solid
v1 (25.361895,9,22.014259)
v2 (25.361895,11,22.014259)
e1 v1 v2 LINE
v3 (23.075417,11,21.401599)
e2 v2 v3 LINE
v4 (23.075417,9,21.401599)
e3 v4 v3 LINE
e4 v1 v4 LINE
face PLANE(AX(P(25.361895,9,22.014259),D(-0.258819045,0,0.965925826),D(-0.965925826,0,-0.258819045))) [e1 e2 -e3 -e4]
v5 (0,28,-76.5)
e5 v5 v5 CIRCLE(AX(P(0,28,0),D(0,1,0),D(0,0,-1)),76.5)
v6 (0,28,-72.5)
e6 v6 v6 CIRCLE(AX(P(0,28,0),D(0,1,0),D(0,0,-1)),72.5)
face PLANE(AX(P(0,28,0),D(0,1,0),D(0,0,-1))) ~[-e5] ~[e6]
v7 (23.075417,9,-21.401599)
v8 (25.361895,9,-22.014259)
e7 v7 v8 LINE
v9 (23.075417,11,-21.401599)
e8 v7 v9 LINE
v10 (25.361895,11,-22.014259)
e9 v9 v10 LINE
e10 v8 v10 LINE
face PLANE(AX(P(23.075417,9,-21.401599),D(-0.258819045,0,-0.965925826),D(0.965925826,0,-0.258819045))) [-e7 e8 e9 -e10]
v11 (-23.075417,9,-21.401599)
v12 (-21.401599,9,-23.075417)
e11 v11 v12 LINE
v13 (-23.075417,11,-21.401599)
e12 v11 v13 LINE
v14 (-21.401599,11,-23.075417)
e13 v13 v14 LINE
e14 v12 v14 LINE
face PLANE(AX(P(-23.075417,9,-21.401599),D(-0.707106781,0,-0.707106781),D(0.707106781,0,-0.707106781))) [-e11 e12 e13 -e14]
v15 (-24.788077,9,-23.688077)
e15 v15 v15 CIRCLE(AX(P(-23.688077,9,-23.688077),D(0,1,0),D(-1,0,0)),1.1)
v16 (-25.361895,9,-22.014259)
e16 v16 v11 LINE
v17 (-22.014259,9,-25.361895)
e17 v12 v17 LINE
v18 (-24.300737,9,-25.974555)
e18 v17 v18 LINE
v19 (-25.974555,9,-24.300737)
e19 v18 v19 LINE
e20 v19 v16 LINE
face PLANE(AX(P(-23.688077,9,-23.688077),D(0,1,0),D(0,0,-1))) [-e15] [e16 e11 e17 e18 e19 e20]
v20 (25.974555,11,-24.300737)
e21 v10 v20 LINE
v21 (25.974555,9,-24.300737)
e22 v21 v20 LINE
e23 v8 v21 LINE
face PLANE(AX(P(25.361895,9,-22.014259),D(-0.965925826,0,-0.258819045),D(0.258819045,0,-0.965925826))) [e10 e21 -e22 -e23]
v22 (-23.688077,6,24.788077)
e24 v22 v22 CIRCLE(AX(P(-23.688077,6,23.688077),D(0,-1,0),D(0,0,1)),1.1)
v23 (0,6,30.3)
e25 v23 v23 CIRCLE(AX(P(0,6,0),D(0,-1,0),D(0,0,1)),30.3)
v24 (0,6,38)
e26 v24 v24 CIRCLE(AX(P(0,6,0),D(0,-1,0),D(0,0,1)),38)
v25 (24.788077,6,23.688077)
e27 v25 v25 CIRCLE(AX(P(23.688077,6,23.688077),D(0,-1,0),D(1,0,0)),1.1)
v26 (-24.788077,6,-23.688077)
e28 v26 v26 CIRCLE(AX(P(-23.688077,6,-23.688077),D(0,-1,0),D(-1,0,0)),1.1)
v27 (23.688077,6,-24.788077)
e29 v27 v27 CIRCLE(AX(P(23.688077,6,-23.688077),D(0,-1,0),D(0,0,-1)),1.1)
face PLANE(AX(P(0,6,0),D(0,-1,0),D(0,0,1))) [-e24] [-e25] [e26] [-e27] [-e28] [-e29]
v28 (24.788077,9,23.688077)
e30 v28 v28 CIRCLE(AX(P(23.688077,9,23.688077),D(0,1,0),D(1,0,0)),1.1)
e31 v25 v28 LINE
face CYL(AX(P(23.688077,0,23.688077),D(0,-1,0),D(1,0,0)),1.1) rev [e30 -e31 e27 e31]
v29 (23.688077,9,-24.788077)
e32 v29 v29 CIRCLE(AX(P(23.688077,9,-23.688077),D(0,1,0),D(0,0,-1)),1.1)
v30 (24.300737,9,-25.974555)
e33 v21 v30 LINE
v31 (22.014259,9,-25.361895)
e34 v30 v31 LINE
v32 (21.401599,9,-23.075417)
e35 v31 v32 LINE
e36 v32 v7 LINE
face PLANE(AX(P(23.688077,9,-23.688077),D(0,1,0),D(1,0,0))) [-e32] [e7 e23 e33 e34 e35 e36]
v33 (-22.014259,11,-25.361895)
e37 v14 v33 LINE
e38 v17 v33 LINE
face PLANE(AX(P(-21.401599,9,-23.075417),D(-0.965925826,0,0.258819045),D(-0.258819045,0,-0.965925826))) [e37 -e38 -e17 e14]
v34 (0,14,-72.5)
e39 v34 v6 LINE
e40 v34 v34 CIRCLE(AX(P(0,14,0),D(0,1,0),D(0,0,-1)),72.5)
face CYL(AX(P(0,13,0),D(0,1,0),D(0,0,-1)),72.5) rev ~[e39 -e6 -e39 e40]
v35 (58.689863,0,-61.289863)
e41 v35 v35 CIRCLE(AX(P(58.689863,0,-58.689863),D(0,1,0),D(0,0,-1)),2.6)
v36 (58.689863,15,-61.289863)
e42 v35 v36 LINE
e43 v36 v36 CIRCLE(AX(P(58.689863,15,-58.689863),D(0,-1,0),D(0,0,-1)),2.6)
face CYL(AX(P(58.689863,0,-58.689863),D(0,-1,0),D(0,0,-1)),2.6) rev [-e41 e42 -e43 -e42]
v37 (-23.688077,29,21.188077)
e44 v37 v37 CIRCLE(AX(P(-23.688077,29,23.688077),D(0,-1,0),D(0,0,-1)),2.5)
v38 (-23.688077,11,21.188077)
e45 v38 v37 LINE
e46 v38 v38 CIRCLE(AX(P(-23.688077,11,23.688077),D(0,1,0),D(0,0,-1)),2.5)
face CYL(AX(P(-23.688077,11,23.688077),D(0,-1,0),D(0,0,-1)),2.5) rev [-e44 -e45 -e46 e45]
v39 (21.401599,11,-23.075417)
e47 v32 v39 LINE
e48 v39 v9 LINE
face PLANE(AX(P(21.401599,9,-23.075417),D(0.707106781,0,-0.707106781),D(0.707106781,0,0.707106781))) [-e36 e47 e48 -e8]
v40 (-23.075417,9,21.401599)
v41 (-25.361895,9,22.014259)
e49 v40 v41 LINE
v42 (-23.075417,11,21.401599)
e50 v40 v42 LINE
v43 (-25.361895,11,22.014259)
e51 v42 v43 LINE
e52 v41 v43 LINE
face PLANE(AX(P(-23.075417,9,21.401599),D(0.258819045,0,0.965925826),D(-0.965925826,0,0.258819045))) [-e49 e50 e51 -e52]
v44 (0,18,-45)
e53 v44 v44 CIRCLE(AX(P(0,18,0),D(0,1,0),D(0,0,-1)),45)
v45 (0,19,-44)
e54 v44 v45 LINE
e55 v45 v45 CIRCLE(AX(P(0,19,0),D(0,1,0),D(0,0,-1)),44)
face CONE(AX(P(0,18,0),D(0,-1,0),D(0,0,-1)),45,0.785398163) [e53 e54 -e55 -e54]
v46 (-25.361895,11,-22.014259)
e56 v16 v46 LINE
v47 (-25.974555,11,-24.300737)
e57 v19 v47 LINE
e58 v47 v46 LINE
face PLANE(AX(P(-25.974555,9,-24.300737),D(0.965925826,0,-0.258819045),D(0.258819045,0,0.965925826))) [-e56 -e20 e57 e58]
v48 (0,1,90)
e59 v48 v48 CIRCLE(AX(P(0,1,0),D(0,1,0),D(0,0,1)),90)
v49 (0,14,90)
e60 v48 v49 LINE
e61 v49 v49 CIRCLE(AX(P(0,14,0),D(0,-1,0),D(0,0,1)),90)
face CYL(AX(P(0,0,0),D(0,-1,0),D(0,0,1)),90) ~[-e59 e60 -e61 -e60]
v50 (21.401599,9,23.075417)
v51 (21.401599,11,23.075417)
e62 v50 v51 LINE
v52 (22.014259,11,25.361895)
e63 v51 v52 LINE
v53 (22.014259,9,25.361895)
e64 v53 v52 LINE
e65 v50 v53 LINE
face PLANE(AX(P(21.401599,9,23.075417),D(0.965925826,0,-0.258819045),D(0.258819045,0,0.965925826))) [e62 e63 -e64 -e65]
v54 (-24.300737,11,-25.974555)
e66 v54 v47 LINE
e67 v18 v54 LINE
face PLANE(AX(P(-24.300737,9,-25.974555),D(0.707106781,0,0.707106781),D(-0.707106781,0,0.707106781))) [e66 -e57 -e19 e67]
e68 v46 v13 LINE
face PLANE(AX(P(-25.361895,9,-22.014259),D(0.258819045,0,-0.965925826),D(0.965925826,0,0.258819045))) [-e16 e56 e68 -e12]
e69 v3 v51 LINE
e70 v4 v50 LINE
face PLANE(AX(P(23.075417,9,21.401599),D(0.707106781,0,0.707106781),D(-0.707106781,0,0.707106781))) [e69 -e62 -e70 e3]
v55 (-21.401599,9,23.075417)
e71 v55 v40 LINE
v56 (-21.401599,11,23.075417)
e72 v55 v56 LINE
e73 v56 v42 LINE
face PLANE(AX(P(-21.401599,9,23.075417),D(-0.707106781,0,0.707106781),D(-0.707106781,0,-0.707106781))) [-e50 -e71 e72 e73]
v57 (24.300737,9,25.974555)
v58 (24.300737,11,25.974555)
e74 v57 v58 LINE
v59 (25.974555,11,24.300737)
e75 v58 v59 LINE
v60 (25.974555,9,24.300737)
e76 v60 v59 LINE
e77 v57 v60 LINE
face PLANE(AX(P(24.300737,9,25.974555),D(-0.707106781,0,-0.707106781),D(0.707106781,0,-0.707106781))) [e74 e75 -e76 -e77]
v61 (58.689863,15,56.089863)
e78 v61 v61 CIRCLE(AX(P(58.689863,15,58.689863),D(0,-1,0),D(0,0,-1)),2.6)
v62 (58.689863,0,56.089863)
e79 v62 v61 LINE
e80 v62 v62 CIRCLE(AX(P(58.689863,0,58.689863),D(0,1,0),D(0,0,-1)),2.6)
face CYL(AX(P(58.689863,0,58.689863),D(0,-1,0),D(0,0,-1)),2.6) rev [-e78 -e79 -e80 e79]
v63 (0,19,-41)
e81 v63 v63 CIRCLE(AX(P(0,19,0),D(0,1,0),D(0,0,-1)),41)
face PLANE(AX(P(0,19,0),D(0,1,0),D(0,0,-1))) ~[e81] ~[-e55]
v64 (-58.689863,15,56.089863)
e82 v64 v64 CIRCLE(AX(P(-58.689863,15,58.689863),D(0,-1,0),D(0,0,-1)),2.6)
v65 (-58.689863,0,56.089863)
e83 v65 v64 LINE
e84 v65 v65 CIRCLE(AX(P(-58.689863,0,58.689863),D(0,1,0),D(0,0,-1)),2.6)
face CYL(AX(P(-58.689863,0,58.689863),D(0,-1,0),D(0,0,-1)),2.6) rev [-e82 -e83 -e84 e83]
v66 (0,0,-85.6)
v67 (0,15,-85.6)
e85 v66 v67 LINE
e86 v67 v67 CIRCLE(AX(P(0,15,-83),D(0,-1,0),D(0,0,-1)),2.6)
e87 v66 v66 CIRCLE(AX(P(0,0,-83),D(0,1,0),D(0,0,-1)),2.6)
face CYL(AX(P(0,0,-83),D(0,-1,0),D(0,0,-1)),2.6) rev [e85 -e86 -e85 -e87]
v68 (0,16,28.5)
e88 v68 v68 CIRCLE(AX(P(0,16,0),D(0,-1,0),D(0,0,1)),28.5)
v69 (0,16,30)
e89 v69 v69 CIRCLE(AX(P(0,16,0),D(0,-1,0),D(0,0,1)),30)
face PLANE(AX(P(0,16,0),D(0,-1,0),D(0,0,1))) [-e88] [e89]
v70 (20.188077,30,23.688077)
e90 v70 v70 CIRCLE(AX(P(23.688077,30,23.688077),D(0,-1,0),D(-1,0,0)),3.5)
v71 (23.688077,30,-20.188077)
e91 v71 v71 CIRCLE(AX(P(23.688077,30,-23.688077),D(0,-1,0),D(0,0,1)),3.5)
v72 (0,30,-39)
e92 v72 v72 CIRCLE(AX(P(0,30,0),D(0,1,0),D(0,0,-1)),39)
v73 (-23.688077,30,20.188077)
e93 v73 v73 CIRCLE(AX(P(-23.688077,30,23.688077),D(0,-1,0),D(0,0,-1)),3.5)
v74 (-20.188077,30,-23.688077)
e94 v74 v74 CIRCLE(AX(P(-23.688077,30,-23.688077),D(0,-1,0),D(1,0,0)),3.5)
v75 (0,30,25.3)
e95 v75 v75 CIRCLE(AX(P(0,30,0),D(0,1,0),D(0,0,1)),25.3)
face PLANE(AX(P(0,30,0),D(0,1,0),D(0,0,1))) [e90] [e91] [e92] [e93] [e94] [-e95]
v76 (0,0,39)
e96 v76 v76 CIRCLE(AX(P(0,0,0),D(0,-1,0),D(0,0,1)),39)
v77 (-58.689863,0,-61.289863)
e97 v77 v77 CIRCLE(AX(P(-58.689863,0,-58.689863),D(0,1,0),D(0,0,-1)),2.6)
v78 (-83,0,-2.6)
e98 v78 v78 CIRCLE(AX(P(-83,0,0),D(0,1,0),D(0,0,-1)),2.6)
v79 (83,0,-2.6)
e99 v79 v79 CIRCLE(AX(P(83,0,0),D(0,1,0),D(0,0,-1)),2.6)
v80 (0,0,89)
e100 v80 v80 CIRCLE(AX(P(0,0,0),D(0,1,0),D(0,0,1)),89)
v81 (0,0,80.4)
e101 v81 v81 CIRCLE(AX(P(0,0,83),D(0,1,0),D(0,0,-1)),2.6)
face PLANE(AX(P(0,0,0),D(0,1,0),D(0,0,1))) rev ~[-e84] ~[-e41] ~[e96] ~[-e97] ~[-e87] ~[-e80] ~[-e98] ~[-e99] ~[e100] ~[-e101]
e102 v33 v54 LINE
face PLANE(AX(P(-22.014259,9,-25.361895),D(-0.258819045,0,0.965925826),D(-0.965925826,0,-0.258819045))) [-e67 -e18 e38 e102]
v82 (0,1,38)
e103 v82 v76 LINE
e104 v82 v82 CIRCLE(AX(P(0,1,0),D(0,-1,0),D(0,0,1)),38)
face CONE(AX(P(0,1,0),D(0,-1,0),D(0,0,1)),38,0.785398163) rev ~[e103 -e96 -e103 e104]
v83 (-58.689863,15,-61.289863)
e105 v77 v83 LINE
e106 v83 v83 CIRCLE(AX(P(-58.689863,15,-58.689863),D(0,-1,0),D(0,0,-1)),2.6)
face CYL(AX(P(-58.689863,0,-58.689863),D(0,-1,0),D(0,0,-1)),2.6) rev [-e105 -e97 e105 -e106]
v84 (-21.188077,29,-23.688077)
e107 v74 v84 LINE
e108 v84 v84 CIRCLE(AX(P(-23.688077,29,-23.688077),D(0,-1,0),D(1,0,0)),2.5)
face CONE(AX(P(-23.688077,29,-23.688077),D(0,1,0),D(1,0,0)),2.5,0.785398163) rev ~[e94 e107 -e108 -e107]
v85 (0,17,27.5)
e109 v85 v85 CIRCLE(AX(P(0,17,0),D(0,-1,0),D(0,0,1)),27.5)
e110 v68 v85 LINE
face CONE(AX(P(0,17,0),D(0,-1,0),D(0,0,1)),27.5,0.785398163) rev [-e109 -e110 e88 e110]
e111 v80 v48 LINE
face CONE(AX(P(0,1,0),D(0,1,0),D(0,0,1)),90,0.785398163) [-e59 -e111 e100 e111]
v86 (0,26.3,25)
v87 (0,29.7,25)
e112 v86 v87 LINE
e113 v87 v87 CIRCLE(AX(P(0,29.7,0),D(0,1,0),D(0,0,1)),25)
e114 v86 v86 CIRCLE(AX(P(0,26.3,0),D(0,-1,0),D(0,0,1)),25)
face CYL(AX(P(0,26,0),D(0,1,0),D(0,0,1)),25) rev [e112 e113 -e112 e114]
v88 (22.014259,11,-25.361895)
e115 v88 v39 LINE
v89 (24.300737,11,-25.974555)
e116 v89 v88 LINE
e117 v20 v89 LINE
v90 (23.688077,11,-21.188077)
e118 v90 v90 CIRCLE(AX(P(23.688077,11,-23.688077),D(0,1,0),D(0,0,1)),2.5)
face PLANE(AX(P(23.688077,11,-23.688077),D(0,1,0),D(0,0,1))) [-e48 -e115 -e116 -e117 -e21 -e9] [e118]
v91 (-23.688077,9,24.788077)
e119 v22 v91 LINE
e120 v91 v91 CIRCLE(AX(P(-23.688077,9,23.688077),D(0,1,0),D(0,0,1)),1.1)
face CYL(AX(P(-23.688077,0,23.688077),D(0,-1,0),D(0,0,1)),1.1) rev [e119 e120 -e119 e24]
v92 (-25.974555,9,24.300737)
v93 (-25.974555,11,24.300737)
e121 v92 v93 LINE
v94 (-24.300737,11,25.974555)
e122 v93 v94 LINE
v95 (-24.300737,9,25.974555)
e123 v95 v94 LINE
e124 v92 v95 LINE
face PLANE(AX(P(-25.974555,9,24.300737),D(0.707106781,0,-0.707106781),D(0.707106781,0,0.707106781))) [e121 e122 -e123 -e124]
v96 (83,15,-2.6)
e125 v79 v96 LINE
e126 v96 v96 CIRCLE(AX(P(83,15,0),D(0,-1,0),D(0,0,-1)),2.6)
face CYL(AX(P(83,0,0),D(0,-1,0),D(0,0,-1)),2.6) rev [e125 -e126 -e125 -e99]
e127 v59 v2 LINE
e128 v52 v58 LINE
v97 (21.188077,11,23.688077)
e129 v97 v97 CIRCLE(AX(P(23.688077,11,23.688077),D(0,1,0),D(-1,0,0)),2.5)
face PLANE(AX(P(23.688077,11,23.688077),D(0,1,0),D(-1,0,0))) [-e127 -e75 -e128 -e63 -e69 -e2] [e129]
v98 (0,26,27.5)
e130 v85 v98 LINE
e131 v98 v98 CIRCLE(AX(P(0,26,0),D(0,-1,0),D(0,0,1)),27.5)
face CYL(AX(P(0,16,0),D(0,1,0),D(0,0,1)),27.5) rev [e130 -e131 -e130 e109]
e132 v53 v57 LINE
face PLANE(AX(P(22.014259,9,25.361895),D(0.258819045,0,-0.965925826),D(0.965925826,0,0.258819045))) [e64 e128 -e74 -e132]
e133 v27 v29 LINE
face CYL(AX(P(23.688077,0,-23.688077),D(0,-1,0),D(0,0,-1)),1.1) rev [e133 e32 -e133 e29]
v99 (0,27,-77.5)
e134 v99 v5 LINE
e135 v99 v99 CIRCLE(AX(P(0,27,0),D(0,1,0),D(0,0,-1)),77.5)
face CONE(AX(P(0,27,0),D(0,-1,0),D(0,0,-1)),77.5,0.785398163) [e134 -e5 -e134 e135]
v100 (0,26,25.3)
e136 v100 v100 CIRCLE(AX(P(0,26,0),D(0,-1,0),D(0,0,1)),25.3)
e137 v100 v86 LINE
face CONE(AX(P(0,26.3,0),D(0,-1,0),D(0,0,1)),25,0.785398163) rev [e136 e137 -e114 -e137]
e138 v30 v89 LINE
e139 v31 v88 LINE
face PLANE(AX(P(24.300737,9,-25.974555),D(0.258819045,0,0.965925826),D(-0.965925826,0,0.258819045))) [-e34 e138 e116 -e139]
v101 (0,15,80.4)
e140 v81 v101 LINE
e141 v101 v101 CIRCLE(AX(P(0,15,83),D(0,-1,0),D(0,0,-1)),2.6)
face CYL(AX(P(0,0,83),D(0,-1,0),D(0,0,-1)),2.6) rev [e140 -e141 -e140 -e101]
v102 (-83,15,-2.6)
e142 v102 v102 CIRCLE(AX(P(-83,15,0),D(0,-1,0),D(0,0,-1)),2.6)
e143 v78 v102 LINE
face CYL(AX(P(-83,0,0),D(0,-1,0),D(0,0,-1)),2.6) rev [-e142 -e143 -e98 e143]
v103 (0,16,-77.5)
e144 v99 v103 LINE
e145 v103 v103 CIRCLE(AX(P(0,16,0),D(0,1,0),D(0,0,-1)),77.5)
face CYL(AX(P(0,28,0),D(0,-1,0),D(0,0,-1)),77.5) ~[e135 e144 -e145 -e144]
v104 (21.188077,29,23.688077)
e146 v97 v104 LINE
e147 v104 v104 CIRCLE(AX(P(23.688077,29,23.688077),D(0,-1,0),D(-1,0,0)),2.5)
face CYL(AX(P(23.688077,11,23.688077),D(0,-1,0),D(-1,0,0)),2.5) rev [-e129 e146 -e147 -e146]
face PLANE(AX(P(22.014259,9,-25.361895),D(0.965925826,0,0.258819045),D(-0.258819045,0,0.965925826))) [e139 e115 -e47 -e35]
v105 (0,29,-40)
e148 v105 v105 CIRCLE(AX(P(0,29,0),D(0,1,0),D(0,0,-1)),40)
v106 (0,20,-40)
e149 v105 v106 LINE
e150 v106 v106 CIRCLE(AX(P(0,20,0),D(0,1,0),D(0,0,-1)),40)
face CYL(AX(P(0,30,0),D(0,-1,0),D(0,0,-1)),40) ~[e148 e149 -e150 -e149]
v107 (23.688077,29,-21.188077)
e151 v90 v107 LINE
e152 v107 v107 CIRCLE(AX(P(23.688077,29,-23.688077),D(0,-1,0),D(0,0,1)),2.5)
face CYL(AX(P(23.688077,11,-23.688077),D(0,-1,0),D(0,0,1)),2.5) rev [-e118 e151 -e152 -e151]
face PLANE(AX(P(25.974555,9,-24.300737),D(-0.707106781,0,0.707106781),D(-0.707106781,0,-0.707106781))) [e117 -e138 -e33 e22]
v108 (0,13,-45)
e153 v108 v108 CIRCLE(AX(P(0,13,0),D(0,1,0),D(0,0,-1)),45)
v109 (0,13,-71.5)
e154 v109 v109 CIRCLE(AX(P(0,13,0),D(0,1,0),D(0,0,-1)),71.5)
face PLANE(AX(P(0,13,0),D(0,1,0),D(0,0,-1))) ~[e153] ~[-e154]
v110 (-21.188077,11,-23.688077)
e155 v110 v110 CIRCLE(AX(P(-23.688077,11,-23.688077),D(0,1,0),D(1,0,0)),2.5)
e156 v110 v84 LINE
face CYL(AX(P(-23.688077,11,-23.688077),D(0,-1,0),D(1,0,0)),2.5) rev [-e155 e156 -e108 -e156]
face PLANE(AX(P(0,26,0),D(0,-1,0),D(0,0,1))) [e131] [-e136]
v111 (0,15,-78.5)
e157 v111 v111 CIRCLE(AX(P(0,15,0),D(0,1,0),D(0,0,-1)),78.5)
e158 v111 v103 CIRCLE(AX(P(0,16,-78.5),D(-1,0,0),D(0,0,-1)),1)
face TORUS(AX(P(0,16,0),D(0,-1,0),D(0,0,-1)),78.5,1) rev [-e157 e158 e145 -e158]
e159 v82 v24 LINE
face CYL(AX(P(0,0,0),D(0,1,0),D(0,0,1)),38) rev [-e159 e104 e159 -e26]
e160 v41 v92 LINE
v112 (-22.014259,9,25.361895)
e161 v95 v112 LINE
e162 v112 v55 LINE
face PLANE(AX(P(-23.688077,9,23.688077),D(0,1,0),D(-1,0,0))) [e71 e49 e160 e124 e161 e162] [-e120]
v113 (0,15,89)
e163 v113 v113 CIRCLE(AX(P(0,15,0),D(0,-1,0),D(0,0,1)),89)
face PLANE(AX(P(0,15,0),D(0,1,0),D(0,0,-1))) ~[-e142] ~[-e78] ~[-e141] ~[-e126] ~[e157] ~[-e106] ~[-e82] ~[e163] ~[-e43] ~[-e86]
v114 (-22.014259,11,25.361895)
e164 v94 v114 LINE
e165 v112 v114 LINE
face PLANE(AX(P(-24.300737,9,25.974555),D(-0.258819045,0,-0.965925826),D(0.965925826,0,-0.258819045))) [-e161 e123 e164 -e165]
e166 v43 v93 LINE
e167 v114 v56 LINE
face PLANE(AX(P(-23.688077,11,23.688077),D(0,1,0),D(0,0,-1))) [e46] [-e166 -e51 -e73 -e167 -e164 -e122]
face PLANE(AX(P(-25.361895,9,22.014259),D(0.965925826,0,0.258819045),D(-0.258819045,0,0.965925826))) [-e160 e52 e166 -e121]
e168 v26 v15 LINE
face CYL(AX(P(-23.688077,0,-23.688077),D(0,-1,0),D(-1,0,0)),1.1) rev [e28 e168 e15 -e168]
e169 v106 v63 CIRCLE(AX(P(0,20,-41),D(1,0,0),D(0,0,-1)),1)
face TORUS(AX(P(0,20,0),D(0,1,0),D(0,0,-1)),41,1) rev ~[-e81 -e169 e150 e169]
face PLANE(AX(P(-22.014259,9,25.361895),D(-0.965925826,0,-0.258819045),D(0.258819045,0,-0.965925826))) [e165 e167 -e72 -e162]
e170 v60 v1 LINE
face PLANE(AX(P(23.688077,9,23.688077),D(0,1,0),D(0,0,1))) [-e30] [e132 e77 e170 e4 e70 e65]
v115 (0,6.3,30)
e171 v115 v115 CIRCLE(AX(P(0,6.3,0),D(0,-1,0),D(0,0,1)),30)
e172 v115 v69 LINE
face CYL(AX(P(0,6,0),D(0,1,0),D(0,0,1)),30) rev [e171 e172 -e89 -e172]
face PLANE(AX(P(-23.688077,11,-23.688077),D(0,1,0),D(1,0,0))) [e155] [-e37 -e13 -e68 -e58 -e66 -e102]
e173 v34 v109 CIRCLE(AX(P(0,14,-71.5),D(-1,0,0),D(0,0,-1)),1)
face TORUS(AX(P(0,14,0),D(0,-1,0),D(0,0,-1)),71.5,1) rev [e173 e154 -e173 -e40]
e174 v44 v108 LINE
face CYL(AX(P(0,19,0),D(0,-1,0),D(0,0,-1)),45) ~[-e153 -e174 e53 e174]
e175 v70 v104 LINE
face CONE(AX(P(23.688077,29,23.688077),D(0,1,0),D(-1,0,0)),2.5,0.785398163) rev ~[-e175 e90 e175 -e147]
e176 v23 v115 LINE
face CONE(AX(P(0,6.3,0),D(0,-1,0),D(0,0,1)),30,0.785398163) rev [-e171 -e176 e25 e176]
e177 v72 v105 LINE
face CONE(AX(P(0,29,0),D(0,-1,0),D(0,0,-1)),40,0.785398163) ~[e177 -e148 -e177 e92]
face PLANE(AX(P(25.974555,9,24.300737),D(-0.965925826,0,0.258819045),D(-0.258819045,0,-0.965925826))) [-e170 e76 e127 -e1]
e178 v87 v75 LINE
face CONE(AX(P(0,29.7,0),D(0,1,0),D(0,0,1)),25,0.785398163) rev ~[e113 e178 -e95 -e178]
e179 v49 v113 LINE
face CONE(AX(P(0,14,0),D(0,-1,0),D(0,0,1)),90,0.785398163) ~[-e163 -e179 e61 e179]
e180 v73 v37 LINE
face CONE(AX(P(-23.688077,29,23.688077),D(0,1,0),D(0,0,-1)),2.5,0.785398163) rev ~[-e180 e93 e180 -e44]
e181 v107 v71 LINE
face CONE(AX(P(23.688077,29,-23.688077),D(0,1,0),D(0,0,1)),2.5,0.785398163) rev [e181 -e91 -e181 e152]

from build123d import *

# Parameters (mm, degrees)
SKETCH_1_R                           = 90
EXTRUDE_1_DEPTH                      = 30
CHAMFER_1_SIZE                       = 1
CHAMFER_3_SIZE                       = 1
CHAMFER_4_SIZE                       = 0.3
FILLET_1_R                           = 1
SKETCH_4_R                           = 1.1
CUT_EXTRUDE_1_DEPTH                  = 131.766968306
CUT_EXTRUDE_START                    = 11
SKETCH_4_3_R                         = 2.5
CUT_EXTRUDE_2_DEPTH                  = 120.766968306
CUT_EXTRUDE_START_2                  = 9
SKETCH_4_4_R                         = 1.1
CUT_EXTRUDE_3_DEPTH                  = 2
CHAMFER_5_SIZE                       = 1
PATTERN_CIRCULAR_1_COUNT             = 4
CHAMFER_5_OF_PATTERN_CIRCULAR_1_SIZE = 1
SKETCH_5_R                           = 2.6
CUT_EXTRUDE_4_DEPTH                  = 131.766968306


with BuildPart() as part:
    # Эскиз1 → Бобышка-Вытянуть1 (new body)
    with BuildSketch(Plane(origin=(0, 0, 0), x_dir=(1, 0, 0), z_dir=(0, 1, 0))):
        Circle(SKETCH_1_R)
    extrude(amount=EXTRUDE_1_DEPTH)

    # Эскиз2 → Вырез-Повернуть1 (revolve, cut)
    with BuildSketch(Plane(origin=(0, 0, 0), x_dir=(0, 0, -1), z_dir=(1, 0, 0))):
        Polygon((-38, 0), (0, 0), (0, 67.414866474), (-25, 67.414866474), (-25, 26), (-27.5, 26), (-27.5, 16), (-30, 16), (-30, 6), (-38, 6), align=None)
    revolve(axis=Axis((0, 67.414866474, 0), (0, -1, 0)), mode=Mode.SUBTRACT)

    # Эскиз3 → Вырез-Повернуть2 (revolve, cut)
    with BuildSketch(Plane(origin=(0, 0, 0), x_dir=(0, 0, -1), z_dir=(1, 0, 0))):
        Polygon((-40, 30), (0, 30), (0, 53.537203253), (-112.622574603, 53.537203253), (-112.622574603, 15), (-77.5, 15), (-77.5, 28), (-72.5, 28), (-72.5, 13), (-45, 13), (-45, 19), (-40, 19), align=None)
    revolve(axis=Axis((0, 0, 0), (0, 1, 0)), mode=Mode.SUBTRACT)

    # Фаска1
    chamfer_1_edges = [part.edges().sort_by_distance(p)[0] for p in [
        (0, 16, -27.5),
        (0, 19, -45),
    ]]
    chamfer(chamfer_1_edges, length=CHAMFER_1_SIZE)

    # Фаска3
    chamfer_3_edges = [part.edges().sort_by_distance(p)[0] for p in [
        (0, 0, -38),
        (-90, 0, 0),
        (0, 30, -40),
        (0, 28, -77.5),
        (-90, 15, 0),
    ]]
    chamfer(chamfer_3_edges, length=CHAMFER_3_SIZE)

    # Фаска4
    chamfer_4_edges = [part.edges().sort_by_distance(p)[0] for p in [
        (0, 30, -25),
        (0, 26, -25),
        (0, 6, -30),
    ]]
    chamfer(chamfer_4_edges, length=CHAMFER_4_SIZE)

    # Скругление1
    fillet_1_edges = [part.edges().sort_by_distance(p)[0] for p in [
        (0, 19, -40),
        (0, 13, -72.5),
        (0, 15, -77.5),
    ]]
    fillet(fillet_1_edges, radius=FILLET_1_R)

    # Эскиз4 → Вырез-Вытянуть1 (cut, through all)
    with BuildSketch(Plane(origin=(0, 0, 0), x_dir=(1, 0, 0), z_dir=(0, 1, 0))):
        with Locations((23.68807717, 23.68807717)):
            Circle(SKETCH_4_R)
    cut_extrude_1 = extrude(amount=CUT_EXTRUDE_1_DEPTH, mode=Mode.SUBTRACT)

    # Эскиз4<3> → Вырез-Вытянуть2 (cut, through all)
    with BuildSketch(Plane(origin=(0, 0, 0), x_dir=(1, 0, 0), z_dir=(0, 1, 0)).offset(CUT_EXTRUDE_START)):
        with Locations((23.68807717, 23.68807717)):
            Circle(SKETCH_4_3_R)
    cut_extrude_2 = extrude(amount=CUT_EXTRUDE_2_DEPTH, mode=Mode.SUBTRACT)

    # Эскиз4<4> → Вырез-Вытянуть3 (cut)
    with BuildSketch(Plane(origin=(0, 0, 0), x_dir=(1, 0, 0), z_dir=(0, 1, 0)).offset(CUT_EXTRUDE_START_2)):
        Polygon((23.075417264, 21.401599273), (25.361895161, 22.014259179), (25.974555067, 24.300737076), (24.300737076, 25.974555067), (22.014259179, 25.361895161), (21.401599273, 23.075417264), align=None)
        with Locations((23.68807717, 23.68807717)):
            Circle(SKETCH_4_4_R, mode=Mode.SUBTRACT)
    cut_extrude_3 = extrude(amount=CUT_EXTRUDE_3_DEPTH, mode=Mode.SUBTRACT)

    # Фаска5
    chamfer_5_edges = [part.edges().sort_by_distance(p)[0] for p in [
        (21.18807717, 30, -23.68807717),
    ]]
    chamfer(chamfer_5_edges, length=CHAMFER_5_SIZE)

    # Круговой массив1: Вырез-Вытянуть1, Вырез-Вытянуть2, Вырез-Вытянуть3 ×4 about axis
    pattern_circular_1_axis = Axis((0, 0, 0), (0, -1, 0))
    add([cut_extrude_1.rotate(pattern_circular_1_axis, i * 360 / PATTERN_CIRCULAR_1_COUNT) for i in range(1, PATTERN_CIRCULAR_1_COUNT)], mode=Mode.SUBTRACT)
    add([cut_extrude_2.rotate(pattern_circular_1_axis, i * 360 / PATTERN_CIRCULAR_1_COUNT) for i in range(1, PATTERN_CIRCULAR_1_COUNT)], mode=Mode.SUBTRACT)
    add([cut_extrude_3.rotate(pattern_circular_1_axis, i * 360 / PATTERN_CIRCULAR_1_COUNT) for i in range(1, PATTERN_CIRCULAR_1_COUNT)], mode=Mode.SUBTRACT)

    # Фаска5 of Круговой массив1
    chamfer_5_of_pattern_circular_1_edges = [part.edges().sort_by_distance(p)[0] for p in [
        (23.68807717, 30, 21.18807717),
        (-21.18807717, 30, 23.68807717),
        (-23.68807717, 30, -21.18807717),
    ]]
    chamfer(chamfer_5_of_pattern_circular_1_edges, length=CHAMFER_5_OF_PATTERN_CIRCULAR_1_SIZE)

    # Эскиз5 → Вырез-Вытянуть4 (cut, through all)
    with BuildSketch(Plane(origin=(0, 0, 0), x_dir=(1, 0, 0), z_dir=(0, 1, 0))):
        with Locations((83, 0)):
            Circle(SKETCH_5_R)
        with Locations((58.689862838, -58.689862838)):
            Circle(SKETCH_5_R)
        with Locations((0, -83)):
            Circle(SKETCH_5_R)
        with Locations((-58.689862838, -58.689862838)):
            Circle(SKETCH_5_R)
        with Locations((-83, 0)):
            Circle(SKETCH_5_R)
        with Locations((-58.689862838, 58.689862838)):
            Circle(SKETCH_5_R)
        with Locations((0, 83)):
            Circle(SKETCH_5_R)
        with Locations((58.689862838, 58.689862838)):
            Circle(SKETCH_5_R)
    extrude(amount=CUT_EXTRUDE_4_DEPTH, mode=Mode.SUBTRACT)


solid = part.part
